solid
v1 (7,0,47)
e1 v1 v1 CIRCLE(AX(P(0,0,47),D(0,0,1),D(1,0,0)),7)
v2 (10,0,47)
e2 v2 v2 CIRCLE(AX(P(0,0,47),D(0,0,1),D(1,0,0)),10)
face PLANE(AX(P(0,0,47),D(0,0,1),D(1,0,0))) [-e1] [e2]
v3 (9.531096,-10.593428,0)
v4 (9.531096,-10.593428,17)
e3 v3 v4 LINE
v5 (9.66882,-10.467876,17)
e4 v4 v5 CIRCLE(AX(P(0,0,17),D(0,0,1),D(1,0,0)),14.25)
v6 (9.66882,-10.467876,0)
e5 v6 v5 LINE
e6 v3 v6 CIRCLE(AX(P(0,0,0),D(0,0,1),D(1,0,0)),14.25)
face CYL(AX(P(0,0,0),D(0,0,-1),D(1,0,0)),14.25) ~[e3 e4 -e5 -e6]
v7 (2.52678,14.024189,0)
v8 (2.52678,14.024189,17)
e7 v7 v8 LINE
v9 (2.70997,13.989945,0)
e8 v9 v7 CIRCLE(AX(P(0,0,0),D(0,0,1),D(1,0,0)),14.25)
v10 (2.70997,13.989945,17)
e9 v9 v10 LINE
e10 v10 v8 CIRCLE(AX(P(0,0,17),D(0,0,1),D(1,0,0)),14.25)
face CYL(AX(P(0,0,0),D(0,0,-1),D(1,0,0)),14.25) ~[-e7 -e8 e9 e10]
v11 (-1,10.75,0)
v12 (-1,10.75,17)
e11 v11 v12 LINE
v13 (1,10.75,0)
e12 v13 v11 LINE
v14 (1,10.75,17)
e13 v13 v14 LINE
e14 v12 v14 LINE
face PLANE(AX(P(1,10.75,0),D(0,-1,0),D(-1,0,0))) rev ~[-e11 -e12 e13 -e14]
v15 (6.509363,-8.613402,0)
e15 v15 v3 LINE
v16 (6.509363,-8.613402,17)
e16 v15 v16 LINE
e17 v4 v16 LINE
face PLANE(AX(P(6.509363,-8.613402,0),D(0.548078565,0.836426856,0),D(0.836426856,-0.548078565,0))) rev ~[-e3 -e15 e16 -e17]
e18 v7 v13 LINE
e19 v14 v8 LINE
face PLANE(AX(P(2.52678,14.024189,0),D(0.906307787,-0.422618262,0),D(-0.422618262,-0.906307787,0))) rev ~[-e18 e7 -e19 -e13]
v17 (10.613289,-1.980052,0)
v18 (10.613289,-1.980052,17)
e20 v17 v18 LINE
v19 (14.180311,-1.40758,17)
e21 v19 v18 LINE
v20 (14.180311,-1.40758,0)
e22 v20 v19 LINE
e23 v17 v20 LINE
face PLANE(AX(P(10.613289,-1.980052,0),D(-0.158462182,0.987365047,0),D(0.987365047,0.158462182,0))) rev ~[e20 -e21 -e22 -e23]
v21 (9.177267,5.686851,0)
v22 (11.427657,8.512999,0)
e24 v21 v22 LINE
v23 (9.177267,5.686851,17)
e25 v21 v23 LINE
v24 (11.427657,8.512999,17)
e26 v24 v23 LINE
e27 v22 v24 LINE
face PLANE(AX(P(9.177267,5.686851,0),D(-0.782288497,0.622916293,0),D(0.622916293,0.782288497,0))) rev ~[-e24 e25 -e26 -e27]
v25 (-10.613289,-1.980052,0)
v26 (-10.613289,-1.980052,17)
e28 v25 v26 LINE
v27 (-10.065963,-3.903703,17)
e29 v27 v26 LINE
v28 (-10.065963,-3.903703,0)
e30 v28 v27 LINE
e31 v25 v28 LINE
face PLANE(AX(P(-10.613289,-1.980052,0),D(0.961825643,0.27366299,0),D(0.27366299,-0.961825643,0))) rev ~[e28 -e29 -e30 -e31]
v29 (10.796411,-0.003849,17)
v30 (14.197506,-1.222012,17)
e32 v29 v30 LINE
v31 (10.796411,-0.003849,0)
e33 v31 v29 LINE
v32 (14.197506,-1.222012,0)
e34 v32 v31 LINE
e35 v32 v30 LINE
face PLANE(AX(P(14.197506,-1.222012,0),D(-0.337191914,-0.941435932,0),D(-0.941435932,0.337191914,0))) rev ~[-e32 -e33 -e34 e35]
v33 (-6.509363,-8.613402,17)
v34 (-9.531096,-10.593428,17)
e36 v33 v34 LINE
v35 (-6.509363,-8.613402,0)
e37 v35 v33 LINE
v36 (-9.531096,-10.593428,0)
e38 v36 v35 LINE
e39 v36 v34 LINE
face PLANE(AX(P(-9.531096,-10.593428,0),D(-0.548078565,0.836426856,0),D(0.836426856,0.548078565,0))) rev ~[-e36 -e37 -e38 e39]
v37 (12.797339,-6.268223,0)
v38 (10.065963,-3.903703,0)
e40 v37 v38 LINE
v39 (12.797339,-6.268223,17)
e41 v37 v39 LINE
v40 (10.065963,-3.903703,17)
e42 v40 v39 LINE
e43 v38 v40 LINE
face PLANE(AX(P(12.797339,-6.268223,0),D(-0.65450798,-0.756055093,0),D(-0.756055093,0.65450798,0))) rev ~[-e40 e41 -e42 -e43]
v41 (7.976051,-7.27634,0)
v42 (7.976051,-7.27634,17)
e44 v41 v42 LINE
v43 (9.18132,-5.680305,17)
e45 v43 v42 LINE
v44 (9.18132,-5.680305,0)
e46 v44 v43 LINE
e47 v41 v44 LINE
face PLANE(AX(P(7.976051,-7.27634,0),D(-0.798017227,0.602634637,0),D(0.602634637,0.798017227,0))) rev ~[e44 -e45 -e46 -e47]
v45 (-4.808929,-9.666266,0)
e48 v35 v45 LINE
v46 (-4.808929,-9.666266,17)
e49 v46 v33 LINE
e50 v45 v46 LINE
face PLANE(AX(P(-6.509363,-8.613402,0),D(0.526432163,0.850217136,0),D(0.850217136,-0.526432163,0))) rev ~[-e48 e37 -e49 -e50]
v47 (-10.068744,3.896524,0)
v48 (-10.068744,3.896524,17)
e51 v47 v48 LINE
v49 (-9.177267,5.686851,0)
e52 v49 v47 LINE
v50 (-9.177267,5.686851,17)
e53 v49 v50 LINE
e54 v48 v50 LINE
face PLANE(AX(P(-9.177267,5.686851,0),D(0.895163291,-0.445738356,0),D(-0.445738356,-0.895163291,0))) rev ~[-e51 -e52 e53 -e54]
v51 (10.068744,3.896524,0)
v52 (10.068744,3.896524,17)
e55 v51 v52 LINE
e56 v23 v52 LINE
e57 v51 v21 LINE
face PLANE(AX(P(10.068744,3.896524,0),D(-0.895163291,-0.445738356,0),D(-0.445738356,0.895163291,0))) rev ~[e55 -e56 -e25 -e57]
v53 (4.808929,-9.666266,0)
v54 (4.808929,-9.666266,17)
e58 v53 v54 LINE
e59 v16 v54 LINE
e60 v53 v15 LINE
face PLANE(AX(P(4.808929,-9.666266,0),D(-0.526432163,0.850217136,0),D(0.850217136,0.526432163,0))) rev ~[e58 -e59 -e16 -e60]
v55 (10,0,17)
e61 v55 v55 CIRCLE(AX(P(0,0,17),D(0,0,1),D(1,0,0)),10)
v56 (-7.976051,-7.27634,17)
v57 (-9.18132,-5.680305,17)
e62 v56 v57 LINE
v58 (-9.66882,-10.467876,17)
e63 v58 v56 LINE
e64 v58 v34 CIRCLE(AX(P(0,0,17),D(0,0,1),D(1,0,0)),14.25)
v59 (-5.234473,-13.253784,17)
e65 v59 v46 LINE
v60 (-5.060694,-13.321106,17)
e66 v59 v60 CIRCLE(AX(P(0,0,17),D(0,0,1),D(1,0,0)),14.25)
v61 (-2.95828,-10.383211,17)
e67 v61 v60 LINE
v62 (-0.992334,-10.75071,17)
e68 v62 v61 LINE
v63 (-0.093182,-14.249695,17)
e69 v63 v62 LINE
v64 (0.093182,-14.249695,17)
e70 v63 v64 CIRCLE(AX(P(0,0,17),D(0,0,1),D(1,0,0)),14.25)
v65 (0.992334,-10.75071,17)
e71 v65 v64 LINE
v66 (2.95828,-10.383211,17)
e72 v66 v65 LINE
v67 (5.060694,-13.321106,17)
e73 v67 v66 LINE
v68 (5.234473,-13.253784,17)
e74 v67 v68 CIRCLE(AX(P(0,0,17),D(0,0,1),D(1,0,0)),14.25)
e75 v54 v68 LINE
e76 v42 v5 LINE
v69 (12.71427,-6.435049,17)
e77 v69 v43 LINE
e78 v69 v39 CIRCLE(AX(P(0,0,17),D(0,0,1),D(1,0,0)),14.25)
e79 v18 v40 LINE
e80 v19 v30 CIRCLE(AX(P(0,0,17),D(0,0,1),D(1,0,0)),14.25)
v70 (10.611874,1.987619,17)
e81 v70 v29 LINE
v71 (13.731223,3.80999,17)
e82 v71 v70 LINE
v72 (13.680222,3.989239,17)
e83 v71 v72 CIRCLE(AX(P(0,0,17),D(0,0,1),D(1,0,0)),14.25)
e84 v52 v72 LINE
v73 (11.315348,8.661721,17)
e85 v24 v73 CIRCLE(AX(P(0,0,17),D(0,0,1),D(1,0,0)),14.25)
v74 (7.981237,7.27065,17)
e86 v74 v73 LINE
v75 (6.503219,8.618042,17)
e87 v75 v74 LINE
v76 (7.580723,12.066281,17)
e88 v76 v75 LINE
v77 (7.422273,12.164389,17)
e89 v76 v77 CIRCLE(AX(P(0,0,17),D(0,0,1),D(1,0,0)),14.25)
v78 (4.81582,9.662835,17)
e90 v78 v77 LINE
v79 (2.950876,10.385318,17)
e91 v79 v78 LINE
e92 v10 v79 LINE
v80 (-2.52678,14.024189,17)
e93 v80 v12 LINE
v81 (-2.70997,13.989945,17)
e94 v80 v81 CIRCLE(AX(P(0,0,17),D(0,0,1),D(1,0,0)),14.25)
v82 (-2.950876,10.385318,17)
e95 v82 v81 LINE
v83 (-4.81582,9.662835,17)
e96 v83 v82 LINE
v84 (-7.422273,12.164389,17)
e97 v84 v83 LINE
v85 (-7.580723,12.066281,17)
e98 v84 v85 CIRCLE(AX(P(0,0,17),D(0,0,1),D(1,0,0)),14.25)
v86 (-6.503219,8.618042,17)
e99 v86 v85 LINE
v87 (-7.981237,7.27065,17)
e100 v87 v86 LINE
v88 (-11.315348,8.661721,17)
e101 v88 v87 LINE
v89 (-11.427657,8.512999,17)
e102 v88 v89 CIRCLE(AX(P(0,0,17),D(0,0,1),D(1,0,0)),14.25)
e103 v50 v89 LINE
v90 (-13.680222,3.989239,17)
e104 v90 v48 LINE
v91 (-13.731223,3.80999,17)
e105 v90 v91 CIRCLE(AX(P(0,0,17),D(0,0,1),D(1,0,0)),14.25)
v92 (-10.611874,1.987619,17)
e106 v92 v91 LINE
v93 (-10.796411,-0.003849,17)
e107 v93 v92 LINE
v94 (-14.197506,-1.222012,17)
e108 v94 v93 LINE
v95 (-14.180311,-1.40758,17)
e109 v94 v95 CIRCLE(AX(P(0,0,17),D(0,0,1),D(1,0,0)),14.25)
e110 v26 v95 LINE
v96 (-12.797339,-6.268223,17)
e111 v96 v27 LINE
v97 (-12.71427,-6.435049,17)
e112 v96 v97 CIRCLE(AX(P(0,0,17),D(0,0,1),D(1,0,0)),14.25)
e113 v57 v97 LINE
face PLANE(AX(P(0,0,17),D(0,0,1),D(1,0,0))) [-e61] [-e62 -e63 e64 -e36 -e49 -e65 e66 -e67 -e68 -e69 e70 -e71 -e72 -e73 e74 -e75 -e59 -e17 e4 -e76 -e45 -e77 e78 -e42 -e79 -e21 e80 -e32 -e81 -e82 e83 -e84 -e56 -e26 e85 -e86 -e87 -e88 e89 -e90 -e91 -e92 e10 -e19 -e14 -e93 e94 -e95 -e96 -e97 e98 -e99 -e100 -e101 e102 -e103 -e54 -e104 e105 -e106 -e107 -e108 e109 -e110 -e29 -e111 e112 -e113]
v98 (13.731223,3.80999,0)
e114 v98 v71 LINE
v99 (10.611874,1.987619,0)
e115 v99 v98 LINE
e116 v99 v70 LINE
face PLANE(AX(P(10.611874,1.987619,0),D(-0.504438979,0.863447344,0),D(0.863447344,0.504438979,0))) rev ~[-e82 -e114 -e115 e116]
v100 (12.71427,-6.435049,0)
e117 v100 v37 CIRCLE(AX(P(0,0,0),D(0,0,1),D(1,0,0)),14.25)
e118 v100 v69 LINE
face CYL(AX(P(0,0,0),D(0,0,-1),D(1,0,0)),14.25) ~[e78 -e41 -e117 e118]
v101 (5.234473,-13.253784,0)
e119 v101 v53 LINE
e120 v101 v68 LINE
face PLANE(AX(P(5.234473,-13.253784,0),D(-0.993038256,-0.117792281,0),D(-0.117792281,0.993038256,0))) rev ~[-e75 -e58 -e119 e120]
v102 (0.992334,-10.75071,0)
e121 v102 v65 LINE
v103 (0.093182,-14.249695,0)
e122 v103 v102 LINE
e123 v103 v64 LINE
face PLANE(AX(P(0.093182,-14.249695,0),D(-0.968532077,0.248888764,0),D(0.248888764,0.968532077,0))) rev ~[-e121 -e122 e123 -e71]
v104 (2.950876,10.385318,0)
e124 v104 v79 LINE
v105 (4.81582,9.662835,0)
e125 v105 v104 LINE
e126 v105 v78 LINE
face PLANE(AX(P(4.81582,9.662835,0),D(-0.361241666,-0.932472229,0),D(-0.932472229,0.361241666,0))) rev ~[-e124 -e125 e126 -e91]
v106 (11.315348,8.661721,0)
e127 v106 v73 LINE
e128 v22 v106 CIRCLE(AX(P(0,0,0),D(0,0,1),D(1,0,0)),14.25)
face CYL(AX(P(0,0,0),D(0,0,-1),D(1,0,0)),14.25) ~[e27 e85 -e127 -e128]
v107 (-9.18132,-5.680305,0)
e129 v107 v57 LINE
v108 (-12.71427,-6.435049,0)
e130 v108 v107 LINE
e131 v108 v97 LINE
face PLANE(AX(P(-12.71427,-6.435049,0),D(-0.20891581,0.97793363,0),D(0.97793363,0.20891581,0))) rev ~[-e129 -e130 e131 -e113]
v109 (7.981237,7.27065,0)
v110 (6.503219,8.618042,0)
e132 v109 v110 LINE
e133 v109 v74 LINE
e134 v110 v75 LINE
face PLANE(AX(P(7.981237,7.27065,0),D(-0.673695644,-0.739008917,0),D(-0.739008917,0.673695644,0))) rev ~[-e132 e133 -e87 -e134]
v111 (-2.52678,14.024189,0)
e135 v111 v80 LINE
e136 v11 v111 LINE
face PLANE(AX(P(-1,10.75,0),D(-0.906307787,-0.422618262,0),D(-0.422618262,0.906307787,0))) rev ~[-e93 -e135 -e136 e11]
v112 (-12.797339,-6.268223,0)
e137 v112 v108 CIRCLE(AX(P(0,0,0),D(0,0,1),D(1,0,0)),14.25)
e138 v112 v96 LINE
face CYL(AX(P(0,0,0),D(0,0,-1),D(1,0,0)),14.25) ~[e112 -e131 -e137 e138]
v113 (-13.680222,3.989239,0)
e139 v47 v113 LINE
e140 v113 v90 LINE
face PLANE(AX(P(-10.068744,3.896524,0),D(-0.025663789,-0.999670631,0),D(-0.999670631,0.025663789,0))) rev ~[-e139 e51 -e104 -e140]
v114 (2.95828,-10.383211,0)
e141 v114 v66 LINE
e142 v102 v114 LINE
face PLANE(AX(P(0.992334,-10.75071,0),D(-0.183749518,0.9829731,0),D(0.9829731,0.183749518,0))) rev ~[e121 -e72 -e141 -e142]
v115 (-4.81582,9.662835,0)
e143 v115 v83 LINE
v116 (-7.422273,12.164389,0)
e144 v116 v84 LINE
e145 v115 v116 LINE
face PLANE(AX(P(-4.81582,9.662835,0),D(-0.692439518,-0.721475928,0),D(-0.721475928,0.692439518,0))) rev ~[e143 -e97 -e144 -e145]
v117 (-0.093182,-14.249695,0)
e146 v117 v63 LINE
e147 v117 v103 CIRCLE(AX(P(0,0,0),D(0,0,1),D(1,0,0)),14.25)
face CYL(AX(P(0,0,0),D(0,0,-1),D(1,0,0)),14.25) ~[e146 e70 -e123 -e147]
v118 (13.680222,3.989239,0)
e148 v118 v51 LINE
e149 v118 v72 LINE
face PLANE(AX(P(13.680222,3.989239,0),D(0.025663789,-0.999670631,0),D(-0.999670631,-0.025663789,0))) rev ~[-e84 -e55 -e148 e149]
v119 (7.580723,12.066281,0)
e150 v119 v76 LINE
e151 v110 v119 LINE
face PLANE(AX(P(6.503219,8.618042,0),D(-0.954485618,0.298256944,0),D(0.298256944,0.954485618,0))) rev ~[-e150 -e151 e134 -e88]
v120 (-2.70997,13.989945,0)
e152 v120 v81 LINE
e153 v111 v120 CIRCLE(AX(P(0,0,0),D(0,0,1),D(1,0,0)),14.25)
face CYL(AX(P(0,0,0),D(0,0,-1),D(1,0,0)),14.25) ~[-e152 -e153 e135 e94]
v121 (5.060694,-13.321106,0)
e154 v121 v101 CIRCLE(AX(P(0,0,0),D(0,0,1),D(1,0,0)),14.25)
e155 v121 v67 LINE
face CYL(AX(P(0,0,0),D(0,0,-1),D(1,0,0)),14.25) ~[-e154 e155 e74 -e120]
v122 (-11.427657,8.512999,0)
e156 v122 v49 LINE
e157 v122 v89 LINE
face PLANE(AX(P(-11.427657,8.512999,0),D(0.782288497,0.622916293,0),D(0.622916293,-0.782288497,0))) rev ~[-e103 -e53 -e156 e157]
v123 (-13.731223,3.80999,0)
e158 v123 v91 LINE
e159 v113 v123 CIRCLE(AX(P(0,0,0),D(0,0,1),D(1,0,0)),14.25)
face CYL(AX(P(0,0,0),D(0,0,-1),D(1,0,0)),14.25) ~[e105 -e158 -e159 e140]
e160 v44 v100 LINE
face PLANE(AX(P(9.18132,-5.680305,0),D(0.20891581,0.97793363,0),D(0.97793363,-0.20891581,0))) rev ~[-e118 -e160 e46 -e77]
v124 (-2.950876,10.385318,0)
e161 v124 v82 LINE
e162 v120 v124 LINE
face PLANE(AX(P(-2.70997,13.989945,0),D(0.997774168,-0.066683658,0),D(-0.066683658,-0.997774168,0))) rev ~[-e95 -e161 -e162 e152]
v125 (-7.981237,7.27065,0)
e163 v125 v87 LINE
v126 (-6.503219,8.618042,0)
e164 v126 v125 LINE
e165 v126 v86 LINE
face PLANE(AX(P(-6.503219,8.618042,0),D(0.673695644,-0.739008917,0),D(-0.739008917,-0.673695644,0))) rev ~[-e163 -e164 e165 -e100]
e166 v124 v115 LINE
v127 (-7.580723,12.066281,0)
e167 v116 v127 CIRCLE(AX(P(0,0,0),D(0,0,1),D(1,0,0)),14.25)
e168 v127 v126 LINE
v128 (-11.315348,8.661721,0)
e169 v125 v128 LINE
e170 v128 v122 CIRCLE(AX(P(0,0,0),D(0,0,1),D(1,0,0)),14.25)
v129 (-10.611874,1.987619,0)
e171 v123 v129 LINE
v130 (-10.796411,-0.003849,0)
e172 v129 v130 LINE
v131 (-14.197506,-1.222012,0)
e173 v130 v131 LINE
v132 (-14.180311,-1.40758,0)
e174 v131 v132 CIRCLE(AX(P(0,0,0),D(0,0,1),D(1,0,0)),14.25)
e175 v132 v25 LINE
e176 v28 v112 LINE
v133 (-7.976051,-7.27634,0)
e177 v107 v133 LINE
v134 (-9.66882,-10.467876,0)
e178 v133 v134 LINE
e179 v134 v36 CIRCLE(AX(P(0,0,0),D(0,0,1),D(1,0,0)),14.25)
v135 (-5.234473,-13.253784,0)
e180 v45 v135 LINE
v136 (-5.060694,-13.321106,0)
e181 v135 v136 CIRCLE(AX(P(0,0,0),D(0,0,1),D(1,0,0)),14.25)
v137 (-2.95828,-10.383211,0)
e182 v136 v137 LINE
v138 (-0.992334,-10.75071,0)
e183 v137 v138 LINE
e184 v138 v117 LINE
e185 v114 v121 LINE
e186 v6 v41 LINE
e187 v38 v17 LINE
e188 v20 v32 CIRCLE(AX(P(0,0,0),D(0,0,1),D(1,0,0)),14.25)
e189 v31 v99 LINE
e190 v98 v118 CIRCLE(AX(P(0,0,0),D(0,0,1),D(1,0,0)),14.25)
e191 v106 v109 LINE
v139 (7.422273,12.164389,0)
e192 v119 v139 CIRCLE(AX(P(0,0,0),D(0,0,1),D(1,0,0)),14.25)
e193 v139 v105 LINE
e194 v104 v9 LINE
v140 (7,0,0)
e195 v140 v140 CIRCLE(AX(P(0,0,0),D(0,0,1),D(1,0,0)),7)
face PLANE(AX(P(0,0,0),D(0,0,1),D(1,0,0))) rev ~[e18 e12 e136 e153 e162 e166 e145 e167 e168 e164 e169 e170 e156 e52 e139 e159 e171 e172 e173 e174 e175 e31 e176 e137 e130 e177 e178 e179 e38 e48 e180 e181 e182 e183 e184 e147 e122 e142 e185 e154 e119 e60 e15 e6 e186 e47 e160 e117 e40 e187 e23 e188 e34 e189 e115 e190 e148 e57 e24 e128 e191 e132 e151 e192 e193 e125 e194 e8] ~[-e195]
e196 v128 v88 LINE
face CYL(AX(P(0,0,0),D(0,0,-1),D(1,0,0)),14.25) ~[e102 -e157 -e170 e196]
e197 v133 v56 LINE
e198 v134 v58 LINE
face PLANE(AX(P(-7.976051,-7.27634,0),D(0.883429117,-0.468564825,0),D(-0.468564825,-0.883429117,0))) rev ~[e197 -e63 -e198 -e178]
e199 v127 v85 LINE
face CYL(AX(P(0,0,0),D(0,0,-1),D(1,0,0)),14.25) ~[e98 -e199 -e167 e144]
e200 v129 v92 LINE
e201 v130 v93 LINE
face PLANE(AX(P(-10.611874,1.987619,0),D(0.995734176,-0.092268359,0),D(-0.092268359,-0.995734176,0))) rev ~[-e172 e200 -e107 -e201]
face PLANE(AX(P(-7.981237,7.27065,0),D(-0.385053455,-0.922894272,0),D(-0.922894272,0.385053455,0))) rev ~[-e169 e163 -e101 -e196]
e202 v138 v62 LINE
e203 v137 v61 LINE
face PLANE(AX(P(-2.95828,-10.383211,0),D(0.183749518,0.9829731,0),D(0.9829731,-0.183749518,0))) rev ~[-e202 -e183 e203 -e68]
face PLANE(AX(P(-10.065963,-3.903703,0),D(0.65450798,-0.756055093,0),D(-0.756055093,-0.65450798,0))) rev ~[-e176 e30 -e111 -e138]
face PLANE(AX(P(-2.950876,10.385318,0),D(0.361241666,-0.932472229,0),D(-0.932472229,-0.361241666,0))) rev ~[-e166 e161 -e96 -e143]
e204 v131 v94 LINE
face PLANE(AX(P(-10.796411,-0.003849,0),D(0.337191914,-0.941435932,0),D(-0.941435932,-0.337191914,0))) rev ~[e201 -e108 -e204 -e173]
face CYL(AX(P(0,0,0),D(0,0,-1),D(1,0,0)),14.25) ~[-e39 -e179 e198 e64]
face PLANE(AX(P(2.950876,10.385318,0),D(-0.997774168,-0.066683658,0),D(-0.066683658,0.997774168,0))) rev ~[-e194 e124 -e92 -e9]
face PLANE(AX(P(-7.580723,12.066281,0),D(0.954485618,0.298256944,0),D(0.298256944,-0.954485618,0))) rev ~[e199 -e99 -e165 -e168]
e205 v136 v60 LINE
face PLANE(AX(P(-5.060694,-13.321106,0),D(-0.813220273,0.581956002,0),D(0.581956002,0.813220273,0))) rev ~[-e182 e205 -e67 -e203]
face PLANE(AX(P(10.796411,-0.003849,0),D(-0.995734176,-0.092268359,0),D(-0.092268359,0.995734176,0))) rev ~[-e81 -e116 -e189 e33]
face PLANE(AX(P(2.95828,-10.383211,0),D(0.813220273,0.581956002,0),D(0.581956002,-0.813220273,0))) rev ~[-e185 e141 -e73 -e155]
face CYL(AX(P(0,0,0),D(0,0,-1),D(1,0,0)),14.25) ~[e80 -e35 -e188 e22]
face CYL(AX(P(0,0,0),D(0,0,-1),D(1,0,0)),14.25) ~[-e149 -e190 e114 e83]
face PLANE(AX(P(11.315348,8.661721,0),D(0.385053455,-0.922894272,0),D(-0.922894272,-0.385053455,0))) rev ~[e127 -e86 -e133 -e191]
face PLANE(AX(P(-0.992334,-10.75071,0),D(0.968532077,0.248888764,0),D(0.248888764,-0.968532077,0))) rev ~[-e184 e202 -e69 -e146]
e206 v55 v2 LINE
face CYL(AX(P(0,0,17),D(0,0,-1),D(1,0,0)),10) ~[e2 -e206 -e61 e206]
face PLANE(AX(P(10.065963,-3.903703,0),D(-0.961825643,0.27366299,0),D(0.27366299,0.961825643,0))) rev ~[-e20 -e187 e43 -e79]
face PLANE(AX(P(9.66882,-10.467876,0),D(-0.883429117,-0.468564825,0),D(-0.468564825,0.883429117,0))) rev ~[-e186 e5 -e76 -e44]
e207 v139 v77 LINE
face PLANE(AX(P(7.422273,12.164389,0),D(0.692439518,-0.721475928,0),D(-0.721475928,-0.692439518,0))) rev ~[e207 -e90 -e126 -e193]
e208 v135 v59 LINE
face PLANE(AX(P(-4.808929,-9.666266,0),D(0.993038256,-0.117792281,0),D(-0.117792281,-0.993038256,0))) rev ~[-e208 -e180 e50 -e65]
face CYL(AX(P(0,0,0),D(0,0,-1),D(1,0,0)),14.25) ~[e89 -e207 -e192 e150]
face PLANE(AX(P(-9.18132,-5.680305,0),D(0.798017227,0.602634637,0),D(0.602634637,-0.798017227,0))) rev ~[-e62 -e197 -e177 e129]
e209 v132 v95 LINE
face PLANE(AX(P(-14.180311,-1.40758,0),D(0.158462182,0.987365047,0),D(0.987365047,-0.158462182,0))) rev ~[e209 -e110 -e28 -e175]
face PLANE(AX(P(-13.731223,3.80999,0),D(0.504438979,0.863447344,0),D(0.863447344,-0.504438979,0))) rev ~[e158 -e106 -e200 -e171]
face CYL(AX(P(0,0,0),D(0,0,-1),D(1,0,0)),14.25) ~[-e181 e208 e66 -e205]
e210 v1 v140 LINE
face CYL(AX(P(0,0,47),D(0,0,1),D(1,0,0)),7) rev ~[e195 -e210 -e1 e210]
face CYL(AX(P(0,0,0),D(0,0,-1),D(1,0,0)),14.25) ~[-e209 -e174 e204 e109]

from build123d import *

# Parameters (mm, degrees)
SKETCH_1_R          = 14.25
EXTRUDE_1_DEPTH     = 17
SKETCH_2_R          = 10
EXTRUDE_2_DEPTH     = 30
CUT_EXTRUDE_1_DEPTH = 52.138292893
SKETCH_4_R          = 7
CUT_EXTRUDE_2_DEPTH = 52.123690078


with BuildPart() as part:
    # 草图1 → 拉伸1 (new body)
    with BuildSketch(Plane.XY):
        Circle(SKETCH_1_R)
    extrude(amount=EXTRUDE_1_DEPTH)

    # 草图2 → 拉伸2 (add)
    with BuildSketch(Plane.XY.offset(17)):
        Circle(SKETCH_2_R)
    extrude(amount=EXTRUDE_2_DEPTH)

    # 草图3 → 切除-拉伸1 (cut, through all)
    with BuildSketch(Plane(origin=(0, 0, 0), x_dir=(-1, 0, 0), z_dir=(0, 0, -1))):
        with BuildLine():
            Line((2.950875682, 10.385318132), (4.815820141, 9.6628348))
            Line((4.815820141, 9.6628348), (7.422273255, 12.164388999))
            ThreePointArc((7.422273255, 12.164388999), (5.147693743, 13.287729269), (2.709969755, 13.989945101))
            Line((2.709969755, 13.989945101), (2.950875682, 10.385318132))
        make_face()
        with BuildLine():
            Line((-1, 10.75), (1, 10.75))
            Line((1, 10.75), (2.526779539, 14.024189287))
            ThreePointArc((2.526779539, 14.024189287), (0, 14.25), (-2.526779539, 14.024189287))
            Line((-2.526779539, 14.024189287), (-1, 10.75))
        make_face()
        with BuildLine():
            Line((6.503219252, 8.618041504), (7.981237086, 7.270650216))
            Line((7.981237086, 7.270650216), (11.315347839, 8.661720572))
            ThreePointArc((11.315347839, 8.661720572), (9.600162922, 10.53087707), (7.580722617, 12.066281308))
            Line((7.580722617, 12.066281308), (6.503219252, 8.618041504))
        make_face()
        with BuildLine():
            Line((9.177267026, 5.686850616), (10.068743738, 3.896524033))
            Line((10.068743738, 3.896524033), (13.680221998, 3.989238785))
            ThreePointArc((13.680221998, 3.989238785), (12.756076902, 6.35177157), (11.427656884, 8.512999362))
            Line((11.427656884, 8.512999362), (9.177267026, 5.686850616))
        make_face()
        with BuildLine():
            Line((10.611874036, 1.987619041), (10.796410755, -0.003849312))
            Line((10.796410755, -0.003849312), (14.197506371, -1.222011804))
            ThreePointArc((14.197506371, -1.222011804), (14.189212012, 1.314824122), (13.731222765, 3.809989681))
            Line((13.731222765, 3.809989681), (10.611874036, 1.987619041))
        make_face()
        with BuildLine():
            Line((10.613288654, -1.9800515), (10.065962674, -3.903702786))
            Line((10.065962674, -3.903702786), (12.797338837, -6.268222929))
            ThreePointArc((12.797338837, -6.268222929), (13.706015415, -3.899697609), (14.180310925, -1.407580219))
            Line((14.180310925, -1.407580219), (10.613288654, -1.9800515))
        make_face()
        with BuildLine():
            Line((9.18131983, -5.680305114), (7.976050557, -7.276339568))
            Line((7.976050557, -7.276339568), (9.668819781, -10.467875813))
            ThreePointArc((9.668819781, -10.467875813), (11.371745489, -8.587543568), (12.714269518, -6.43504861))
            Line((12.714269518, -6.43504861), (9.18131983, -5.680305114))
        make_face()
        with BuildLine():
            Line((6.509362887, -8.613402046), (4.808928615, -9.666266372))
            Line((4.808928615, -9.666266372), (5.234473037, -13.253784064))
            ThreePointArc((5.234473037, -13.253784064), (7.501658321, -12.115594184), (9.531095561, -10.593428029))
            Line((9.531095561, -10.593428029), (6.509362887, -8.613402046))
        make_face()
        with BuildLine():
            Line((2.958280416, -10.383211304), (0.992334217, -10.750710339))
            Line((0.992334217, -10.750710339), (0.093181704, -14.249695336))
            ThreePointArc((0.093181704, -14.249695336), (2.618430629, -14.00736667), (5.060694335, -13.321106292))
            Line((5.060694335, -13.321106292), (2.958280416, -10.383211304))
        make_face()
        with BuildLine():
            Line((-0.992334217, -10.750710339), (-2.958280416, -10.383211304))
            Line((-2.958280416, -10.383211304), (-5.060694335, -13.321106292))
            ThreePointArc((-5.060694335, -13.321106292), (-2.618430629, -14.00736667), (-0.093181704, -14.249695336))
            Line((-0.093181704, -14.249695336), (-0.992334217, -10.750710339))
        make_face()
        with BuildLine():
            Line((-4.808928615, -9.666266372), (-6.509362887, -8.613402046))
            Line((-6.509362887, -8.613402046), (-9.531095561, -10.593428029))
            ThreePointArc((-9.531095561, -10.593428029), (-7.501658321, -12.115594184), (-5.234473037, -13.253784064))
            Line((-5.234473037, -13.253784064), (-4.808928615, -9.666266372))
        make_face()
        with BuildLine():
            Line((-7.976050557, -7.276339568), (-9.18131983, -5.680305114))
            Line((-9.18131983, -5.680305114), (-12.714269518, -6.43504861))
            ThreePointArc((-12.714269518, -6.43504861), (-11.371745489, -8.587543568), (-9.668819781, -10.467875813))
            Line((-9.668819781, -10.467875813), (-7.976050557, -7.276339568))
        make_face()
        with BuildLine():
            Line((-10.065962674, -3.903702786), (-10.613288654, -1.9800515))
            Line((-10.613288654, -1.9800515), (-14.180310925, -1.407580219))
            ThreePointArc((-14.180310925, -1.407580219), (-13.706015415, -3.899697609), (-12.797338837, -6.268222929))
            Line((-12.797338837, -6.268222929), (-10.065962674, -3.903702786))
        make_face()
        with BuildLine():
            Line((-10.796410755, -0.003849312), (-10.611874036, 1.987619041))
            Line((-10.611874036, 1.987619041), (-13.731222765, 3.809989681))
            ThreePointArc((-13.731222765, 3.809989681), (-14.189212012, 1.314824122), (-14.197506371, -1.222011804))
            Line((-14.197506371, -1.222011804), (-10.796410755, -0.003849312))
        make_face()
        with BuildLine():
            Line((-10.068743738, 3.896524033), (-9.177267026, 5.686850616))
            Line((-9.177267026, 5.686850616), (-11.427656884, 8.512999362))
            ThreePointArc((-11.427656884, 8.512999362), (-12.756076902, 6.35177157), (-13.680221998, 3.989238785))
            Line((-13.680221998, 3.989238785), (-10.068743738, 3.896524033))
        make_face()
        with BuildLine():
            Line((-7.981237086, 7.270650216), (-6.503219252, 8.618041504))
            Line((-6.503219252, 8.618041504), (-7.580722617, 12.066281308))
            ThreePointArc((-7.580722617, 12.066281308), (-9.600162922, 10.53087707), (-11.315347839, 8.661720572))
            Line((-11.315347839, 8.661720572), (-7.981237086, 7.270650216))
        make_face()
        with BuildLine():
            Line((-4.815820141, 9.6628348), (-2.950875682, 10.385318132))
            Line((-2.950875682, 10.385318132), (-2.709969755, 13.989945101))
            ThreePointArc((-2.709969755, 13.989945101), (-5.147693743, 13.287729269), (-7.422273255, 12.164388999))
            Line((-7.422273255, 12.164388999), (-4.815820141, 9.6628348))
        make_face()
    extrude(amount=-CUT_EXTRUDE_1_DEPTH, mode=Mode.SUBTRACT)

    # 草图4 → 切除-拉伸2 (cut, through all)
    with BuildSketch(Plane.XY.offset(47)):
        Circle(SKETCH_4_R)
    extrude(amount=-CUT_EXTRUDE_2_DEPTH, mode=Mode.SUBTRACT)


solid = part.part
